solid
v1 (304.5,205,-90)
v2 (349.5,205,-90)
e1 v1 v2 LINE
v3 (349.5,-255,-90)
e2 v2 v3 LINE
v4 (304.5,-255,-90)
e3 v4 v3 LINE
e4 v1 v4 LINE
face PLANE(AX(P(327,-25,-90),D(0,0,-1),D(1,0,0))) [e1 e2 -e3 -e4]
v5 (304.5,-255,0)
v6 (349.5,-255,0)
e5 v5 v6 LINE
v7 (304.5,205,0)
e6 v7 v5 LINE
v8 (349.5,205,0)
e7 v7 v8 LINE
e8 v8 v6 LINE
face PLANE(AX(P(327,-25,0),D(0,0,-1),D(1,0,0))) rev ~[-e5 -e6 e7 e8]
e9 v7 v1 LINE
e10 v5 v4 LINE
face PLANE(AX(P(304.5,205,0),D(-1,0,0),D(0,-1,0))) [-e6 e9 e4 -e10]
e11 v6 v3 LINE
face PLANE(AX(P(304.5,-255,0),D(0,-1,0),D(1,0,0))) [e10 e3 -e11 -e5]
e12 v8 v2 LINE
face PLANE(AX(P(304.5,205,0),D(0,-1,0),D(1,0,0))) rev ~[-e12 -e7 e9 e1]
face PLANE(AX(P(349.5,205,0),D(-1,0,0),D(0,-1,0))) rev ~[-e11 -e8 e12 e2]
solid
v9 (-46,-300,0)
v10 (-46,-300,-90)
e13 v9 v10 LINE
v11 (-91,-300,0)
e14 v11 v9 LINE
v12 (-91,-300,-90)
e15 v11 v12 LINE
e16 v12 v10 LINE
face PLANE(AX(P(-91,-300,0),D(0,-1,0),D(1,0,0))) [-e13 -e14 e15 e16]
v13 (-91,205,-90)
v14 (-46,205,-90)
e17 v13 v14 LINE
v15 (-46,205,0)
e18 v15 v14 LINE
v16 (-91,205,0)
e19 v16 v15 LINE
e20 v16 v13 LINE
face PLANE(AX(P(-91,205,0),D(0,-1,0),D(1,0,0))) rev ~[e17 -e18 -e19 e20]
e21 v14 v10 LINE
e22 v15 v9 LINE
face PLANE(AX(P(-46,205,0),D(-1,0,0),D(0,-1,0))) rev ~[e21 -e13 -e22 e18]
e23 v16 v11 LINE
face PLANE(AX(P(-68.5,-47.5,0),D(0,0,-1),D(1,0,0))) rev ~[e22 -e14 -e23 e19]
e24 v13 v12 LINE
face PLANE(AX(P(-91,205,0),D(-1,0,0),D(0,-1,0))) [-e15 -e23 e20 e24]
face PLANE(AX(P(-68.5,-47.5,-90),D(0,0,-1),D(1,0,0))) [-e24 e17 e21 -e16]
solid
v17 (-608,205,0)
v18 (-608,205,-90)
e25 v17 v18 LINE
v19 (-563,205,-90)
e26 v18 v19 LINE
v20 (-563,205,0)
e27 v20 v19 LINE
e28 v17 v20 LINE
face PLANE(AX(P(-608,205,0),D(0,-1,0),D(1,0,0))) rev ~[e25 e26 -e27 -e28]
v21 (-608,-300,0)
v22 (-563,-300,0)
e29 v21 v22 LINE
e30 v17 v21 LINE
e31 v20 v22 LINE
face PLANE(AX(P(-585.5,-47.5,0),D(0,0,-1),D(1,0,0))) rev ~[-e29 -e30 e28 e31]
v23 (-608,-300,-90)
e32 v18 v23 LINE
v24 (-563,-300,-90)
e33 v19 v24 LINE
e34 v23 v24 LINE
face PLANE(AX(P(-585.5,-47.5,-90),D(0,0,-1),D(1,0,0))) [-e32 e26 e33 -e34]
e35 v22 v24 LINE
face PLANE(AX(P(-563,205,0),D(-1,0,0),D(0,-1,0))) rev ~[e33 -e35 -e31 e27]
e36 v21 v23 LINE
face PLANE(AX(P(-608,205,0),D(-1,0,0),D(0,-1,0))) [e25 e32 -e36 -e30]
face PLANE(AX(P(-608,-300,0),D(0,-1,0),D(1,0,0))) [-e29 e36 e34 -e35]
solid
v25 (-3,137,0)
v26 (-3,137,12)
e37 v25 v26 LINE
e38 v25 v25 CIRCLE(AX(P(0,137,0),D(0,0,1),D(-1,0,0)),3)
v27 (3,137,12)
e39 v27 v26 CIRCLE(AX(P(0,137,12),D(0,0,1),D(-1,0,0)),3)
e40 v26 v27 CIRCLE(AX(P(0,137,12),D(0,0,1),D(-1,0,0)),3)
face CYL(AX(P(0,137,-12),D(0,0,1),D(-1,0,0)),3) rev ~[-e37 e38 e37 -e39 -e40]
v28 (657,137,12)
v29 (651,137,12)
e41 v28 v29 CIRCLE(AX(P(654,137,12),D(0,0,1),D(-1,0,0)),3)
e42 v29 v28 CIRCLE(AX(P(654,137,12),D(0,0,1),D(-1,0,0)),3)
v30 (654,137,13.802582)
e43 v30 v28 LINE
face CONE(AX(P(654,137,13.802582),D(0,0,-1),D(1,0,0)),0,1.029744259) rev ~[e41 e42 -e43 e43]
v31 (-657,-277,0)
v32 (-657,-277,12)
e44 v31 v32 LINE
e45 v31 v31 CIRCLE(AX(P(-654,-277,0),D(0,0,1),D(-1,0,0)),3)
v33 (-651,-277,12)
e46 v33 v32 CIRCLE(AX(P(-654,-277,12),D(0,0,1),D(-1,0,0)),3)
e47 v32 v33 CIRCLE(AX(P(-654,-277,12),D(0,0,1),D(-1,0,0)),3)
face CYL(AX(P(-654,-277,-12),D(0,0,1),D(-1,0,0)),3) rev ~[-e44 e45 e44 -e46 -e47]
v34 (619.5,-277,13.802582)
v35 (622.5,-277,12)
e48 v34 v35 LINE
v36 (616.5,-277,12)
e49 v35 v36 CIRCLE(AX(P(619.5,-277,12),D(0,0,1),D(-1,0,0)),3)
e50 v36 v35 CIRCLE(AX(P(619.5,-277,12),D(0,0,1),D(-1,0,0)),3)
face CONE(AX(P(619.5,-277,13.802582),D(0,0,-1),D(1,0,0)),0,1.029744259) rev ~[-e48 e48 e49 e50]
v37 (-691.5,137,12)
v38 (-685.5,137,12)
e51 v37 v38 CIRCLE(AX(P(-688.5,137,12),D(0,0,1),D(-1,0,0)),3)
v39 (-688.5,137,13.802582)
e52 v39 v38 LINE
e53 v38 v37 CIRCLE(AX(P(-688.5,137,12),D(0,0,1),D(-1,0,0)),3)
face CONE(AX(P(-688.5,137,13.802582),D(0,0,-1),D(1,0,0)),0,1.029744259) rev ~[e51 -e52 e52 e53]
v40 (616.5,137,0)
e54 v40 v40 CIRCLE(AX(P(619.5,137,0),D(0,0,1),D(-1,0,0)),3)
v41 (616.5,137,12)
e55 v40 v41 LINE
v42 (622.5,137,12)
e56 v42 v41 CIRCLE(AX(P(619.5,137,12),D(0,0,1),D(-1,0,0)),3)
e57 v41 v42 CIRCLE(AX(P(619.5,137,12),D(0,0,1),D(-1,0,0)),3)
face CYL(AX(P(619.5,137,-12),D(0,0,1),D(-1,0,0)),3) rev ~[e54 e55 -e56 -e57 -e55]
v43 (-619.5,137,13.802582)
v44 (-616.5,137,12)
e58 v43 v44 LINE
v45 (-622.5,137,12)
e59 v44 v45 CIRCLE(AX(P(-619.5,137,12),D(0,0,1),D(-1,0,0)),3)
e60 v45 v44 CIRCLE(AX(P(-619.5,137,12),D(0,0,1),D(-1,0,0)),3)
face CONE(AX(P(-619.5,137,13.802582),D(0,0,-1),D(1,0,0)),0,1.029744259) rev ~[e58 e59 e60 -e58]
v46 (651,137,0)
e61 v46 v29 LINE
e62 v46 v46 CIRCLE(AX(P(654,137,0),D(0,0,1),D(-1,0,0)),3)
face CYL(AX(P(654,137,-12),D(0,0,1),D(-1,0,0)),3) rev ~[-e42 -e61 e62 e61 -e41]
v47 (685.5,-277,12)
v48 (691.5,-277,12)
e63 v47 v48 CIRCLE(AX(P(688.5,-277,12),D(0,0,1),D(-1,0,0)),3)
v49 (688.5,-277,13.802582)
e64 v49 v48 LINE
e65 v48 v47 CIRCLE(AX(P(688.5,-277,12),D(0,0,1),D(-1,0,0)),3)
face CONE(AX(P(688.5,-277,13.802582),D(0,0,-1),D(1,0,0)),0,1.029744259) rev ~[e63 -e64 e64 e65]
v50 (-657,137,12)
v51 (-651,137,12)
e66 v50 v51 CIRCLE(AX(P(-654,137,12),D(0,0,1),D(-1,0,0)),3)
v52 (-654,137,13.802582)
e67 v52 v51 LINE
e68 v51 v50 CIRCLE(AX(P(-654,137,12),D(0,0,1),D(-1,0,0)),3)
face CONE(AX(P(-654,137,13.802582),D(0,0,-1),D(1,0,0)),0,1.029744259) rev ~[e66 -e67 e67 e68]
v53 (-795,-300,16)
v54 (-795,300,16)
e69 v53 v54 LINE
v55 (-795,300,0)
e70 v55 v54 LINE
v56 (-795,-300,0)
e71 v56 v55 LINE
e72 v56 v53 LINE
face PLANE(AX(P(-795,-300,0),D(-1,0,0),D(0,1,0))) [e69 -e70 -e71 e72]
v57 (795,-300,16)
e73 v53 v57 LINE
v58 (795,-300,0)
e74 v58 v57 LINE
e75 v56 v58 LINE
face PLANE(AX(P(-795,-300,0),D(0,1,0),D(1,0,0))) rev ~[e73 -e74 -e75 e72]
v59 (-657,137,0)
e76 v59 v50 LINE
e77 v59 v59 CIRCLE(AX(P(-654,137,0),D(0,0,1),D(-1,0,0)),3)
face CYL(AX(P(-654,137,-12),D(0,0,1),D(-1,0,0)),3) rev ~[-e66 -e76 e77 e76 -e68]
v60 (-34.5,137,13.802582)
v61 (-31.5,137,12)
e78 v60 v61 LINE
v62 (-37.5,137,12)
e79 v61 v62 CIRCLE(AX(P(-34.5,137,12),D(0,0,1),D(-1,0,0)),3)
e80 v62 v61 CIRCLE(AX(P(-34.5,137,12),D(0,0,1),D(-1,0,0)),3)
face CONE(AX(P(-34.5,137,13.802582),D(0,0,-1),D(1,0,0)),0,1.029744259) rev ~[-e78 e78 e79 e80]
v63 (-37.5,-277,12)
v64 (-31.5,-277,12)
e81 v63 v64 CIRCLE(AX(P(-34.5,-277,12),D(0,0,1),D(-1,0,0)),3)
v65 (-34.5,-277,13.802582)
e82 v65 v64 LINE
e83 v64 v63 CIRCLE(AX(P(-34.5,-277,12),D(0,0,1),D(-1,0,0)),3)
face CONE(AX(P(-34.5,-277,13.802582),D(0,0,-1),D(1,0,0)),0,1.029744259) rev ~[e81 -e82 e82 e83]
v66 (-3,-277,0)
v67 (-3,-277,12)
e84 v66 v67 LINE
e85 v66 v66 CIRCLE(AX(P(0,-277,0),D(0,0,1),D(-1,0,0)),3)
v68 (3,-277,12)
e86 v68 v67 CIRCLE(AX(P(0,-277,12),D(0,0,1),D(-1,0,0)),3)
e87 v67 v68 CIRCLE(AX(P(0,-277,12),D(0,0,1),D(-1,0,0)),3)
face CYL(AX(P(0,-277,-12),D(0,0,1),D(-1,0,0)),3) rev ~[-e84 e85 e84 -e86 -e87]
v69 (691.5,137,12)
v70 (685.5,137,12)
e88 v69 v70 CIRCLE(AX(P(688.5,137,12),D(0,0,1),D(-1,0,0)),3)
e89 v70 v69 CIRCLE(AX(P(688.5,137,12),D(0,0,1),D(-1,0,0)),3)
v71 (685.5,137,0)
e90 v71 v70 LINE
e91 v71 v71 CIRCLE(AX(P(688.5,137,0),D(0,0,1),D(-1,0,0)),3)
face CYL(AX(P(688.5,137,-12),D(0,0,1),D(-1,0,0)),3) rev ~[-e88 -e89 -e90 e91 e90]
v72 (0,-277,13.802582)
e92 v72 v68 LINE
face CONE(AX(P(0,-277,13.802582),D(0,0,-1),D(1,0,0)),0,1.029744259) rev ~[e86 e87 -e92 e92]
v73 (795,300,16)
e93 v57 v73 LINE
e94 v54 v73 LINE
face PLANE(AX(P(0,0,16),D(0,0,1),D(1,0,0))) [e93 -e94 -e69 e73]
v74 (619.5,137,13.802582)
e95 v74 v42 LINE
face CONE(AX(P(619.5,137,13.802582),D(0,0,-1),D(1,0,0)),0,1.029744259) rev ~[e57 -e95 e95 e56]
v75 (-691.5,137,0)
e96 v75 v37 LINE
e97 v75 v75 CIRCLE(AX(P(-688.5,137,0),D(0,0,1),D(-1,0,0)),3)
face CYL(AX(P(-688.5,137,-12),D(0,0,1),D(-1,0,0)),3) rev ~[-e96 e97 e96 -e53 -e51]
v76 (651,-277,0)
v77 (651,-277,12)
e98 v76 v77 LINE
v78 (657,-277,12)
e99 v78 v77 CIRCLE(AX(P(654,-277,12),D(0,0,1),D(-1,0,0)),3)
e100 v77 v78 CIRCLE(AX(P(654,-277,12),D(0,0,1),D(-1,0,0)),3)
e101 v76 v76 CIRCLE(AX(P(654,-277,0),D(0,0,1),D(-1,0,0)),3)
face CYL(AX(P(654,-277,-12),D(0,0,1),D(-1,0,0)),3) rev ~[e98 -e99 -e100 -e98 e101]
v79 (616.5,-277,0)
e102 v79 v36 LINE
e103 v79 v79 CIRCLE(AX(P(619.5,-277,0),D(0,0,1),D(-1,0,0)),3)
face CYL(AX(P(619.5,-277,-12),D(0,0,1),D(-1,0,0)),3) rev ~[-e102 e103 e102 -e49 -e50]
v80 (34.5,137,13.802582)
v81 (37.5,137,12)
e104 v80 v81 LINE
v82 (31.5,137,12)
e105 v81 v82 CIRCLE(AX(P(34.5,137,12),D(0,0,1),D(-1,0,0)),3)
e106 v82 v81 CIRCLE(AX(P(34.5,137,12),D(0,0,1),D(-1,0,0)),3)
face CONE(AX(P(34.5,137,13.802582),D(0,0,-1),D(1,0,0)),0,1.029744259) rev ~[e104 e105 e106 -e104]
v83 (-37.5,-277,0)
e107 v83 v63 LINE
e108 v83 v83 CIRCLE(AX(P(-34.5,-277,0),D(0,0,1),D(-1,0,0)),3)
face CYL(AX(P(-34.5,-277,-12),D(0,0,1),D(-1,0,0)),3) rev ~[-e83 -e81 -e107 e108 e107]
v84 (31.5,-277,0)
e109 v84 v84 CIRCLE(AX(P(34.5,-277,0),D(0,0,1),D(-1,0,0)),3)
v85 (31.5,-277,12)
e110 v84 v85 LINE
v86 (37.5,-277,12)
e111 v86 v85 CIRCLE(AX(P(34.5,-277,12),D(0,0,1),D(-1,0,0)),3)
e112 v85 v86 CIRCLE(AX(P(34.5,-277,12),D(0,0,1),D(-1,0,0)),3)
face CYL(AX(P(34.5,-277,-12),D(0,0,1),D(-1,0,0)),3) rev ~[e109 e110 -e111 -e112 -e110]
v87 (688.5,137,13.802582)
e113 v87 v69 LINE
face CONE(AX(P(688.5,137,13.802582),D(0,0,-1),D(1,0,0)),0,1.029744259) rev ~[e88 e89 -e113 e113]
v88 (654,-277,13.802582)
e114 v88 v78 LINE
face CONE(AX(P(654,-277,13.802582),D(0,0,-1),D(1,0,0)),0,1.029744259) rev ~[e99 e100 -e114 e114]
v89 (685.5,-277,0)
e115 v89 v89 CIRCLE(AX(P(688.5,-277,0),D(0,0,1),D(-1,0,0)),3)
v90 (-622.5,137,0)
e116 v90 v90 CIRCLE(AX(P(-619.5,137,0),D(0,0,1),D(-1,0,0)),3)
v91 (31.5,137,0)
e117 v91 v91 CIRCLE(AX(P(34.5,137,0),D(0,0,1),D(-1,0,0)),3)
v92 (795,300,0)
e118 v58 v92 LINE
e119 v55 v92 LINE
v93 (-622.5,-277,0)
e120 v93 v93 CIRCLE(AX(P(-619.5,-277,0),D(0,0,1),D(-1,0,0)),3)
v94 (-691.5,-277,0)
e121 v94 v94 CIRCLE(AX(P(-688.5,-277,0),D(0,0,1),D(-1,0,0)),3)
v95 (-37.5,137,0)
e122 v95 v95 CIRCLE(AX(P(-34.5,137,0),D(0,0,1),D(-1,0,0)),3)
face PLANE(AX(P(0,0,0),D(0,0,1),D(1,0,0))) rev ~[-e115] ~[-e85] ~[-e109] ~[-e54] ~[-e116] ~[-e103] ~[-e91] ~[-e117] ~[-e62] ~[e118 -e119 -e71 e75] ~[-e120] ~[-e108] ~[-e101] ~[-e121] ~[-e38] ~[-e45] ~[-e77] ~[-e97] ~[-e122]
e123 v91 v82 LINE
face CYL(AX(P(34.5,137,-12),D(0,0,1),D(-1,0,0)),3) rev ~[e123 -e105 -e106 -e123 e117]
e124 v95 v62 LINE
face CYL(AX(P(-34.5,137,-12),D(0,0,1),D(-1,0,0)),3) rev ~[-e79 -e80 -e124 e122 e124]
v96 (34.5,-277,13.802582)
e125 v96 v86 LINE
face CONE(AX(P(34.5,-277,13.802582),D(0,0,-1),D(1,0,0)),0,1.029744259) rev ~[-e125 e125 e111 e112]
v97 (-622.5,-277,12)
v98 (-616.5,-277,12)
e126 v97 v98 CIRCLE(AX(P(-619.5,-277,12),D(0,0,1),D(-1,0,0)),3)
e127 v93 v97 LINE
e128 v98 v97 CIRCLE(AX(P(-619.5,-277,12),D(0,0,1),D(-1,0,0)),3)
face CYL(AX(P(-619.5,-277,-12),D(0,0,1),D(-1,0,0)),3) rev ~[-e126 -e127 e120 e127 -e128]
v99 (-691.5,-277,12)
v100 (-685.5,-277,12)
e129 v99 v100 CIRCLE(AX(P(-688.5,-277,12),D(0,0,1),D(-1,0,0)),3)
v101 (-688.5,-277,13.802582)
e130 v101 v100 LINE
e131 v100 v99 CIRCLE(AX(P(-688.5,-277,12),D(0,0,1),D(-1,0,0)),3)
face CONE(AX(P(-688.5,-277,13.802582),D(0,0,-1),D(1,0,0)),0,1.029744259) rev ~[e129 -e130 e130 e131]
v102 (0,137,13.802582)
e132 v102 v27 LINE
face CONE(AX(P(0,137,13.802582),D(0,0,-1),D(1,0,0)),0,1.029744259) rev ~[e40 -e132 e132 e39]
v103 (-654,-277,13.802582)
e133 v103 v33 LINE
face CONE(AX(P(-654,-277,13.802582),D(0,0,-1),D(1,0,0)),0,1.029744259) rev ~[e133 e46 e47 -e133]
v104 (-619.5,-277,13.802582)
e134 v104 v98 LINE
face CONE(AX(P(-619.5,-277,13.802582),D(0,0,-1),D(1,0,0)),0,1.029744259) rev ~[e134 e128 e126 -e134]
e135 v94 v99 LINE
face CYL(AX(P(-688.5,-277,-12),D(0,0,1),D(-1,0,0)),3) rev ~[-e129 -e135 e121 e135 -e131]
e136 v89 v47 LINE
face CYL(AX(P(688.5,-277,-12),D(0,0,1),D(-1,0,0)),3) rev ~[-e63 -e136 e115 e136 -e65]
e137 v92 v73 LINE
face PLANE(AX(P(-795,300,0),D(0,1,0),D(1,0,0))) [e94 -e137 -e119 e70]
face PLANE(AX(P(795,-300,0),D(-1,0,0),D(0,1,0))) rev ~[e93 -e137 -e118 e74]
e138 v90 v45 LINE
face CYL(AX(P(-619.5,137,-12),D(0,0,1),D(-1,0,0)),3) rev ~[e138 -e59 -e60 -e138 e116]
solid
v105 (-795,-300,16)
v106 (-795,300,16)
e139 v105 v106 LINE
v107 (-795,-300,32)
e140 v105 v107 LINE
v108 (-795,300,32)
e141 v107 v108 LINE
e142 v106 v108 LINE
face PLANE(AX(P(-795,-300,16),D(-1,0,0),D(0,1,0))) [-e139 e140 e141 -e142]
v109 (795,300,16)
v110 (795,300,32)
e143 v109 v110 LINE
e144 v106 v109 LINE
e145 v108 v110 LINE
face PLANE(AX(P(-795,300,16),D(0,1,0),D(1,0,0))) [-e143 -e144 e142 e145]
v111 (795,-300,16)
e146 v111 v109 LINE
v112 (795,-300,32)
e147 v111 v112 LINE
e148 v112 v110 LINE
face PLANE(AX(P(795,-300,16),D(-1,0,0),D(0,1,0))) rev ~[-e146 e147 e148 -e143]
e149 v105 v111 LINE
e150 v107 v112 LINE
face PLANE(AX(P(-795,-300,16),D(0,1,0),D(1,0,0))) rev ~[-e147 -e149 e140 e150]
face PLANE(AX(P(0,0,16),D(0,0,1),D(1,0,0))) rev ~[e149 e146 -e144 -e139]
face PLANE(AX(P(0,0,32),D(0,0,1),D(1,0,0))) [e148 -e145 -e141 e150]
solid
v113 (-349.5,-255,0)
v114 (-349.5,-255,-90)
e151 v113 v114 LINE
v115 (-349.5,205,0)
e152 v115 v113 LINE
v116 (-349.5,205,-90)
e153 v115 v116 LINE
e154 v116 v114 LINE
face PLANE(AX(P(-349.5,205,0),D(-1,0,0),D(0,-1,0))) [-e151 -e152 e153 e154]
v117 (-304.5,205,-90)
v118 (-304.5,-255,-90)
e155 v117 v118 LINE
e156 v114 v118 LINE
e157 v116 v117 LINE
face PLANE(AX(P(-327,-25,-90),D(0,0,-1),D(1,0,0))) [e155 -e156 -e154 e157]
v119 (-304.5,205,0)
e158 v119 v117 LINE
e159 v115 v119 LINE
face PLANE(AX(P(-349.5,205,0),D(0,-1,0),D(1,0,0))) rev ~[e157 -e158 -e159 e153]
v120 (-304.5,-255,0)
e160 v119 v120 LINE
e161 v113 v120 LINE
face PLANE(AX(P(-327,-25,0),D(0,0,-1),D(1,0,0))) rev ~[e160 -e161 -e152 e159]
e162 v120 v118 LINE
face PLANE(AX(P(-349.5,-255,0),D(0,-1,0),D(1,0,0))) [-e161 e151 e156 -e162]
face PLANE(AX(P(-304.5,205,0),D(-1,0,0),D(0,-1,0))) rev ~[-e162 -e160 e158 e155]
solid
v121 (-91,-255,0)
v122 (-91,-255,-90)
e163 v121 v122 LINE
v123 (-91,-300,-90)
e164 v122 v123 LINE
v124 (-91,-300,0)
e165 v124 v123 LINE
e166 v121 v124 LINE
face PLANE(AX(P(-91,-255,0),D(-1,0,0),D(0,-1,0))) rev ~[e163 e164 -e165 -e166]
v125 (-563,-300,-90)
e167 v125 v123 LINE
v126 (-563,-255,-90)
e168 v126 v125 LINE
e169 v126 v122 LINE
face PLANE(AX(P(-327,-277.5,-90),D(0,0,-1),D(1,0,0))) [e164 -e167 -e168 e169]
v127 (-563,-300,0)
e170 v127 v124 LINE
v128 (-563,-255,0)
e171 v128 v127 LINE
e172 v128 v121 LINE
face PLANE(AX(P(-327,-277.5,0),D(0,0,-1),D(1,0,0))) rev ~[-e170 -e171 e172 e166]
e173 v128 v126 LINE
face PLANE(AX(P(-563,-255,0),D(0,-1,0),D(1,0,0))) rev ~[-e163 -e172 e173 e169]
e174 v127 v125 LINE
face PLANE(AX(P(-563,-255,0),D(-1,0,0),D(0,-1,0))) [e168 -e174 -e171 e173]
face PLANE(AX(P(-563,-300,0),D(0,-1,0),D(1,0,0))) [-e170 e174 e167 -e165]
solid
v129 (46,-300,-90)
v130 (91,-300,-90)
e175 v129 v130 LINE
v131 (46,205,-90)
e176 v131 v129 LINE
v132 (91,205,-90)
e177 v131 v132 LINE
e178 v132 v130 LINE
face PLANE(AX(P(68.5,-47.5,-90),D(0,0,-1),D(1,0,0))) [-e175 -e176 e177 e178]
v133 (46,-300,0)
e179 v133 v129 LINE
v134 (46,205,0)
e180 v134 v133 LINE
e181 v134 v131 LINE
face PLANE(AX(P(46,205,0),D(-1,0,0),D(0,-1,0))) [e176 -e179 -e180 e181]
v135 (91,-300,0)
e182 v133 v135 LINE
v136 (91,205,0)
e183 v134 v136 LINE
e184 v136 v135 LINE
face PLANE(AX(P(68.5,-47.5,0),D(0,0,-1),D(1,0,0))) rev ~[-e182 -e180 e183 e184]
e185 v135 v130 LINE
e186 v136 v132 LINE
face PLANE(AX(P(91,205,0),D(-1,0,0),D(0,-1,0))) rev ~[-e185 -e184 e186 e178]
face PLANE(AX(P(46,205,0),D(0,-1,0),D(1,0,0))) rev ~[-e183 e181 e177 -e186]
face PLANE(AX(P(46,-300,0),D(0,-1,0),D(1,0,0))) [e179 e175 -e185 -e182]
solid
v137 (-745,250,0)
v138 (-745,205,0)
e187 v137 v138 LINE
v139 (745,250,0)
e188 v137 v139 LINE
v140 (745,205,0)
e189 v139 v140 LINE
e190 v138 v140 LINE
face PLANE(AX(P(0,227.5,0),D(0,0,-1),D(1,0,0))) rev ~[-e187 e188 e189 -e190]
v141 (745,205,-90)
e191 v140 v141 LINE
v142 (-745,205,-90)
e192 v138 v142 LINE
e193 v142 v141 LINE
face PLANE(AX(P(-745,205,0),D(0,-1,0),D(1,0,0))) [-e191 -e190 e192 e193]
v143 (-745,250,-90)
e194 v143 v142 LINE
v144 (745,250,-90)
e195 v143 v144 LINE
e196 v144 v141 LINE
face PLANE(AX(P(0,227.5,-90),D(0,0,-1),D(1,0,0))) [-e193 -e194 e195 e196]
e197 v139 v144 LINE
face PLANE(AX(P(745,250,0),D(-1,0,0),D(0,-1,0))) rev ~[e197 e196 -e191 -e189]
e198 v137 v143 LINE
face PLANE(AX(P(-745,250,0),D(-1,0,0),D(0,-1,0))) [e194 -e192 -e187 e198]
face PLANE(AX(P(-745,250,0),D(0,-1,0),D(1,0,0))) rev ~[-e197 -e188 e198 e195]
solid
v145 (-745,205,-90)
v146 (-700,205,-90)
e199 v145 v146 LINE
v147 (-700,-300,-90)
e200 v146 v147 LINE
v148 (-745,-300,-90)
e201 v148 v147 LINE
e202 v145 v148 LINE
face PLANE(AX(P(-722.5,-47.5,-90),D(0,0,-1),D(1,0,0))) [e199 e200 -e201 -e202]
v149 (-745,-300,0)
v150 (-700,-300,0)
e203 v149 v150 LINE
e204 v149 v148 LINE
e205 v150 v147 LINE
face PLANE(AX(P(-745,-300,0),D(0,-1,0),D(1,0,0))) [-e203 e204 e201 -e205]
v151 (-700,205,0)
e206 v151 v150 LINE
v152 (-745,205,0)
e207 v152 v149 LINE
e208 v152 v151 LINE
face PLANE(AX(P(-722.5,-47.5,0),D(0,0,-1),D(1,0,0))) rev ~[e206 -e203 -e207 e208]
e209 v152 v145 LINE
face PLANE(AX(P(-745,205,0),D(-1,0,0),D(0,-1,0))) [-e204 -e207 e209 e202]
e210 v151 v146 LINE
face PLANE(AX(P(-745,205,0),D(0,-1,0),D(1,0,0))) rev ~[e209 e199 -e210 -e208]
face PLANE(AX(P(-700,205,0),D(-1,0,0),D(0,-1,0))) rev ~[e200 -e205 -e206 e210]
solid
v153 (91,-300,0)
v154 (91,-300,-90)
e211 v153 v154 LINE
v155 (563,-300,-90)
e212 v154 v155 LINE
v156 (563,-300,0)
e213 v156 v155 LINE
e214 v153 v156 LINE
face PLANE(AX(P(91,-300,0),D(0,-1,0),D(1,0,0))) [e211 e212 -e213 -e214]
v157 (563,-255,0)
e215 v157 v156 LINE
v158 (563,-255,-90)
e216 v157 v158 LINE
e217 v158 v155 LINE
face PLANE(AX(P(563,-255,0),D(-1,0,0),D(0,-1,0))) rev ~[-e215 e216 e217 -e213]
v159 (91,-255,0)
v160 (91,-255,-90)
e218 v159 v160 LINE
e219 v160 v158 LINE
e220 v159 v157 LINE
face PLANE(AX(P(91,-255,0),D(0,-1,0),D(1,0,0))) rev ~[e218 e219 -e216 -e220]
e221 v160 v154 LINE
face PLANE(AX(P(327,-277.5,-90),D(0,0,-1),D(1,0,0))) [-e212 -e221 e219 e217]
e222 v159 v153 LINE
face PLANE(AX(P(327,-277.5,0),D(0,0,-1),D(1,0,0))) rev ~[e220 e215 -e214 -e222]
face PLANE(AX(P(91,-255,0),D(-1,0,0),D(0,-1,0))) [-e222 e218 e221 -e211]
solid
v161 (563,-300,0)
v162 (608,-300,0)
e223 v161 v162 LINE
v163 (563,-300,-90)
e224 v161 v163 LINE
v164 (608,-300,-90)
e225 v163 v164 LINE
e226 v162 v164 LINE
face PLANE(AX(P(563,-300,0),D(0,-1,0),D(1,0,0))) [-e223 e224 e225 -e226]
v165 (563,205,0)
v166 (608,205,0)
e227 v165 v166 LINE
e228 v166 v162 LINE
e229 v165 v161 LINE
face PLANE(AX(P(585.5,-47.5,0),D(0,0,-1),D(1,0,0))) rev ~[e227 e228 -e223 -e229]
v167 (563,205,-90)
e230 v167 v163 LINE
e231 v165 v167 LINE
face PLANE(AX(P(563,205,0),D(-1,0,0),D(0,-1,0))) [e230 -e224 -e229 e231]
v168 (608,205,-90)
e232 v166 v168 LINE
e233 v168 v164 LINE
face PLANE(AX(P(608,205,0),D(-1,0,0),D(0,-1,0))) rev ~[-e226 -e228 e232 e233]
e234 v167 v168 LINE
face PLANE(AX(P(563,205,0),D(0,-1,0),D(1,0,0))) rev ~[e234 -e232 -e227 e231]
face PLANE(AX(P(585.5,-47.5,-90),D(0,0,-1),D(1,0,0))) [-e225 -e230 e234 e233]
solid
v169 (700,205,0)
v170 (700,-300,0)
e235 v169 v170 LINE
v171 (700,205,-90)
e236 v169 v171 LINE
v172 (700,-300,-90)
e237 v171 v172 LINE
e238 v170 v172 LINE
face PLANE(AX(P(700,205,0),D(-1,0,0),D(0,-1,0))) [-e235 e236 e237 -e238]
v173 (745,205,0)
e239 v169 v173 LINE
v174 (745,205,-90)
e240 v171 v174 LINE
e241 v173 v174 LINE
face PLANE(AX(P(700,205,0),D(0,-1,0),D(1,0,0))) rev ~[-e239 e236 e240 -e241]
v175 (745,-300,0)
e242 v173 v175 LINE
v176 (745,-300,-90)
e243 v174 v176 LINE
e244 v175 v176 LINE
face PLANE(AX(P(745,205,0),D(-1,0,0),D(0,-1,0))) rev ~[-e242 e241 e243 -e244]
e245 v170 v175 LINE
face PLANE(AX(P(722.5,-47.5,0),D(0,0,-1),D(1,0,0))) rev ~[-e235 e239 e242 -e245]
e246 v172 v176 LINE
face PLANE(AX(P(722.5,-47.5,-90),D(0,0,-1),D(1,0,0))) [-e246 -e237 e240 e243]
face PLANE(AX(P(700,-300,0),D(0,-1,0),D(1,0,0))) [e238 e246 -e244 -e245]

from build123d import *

# Parameters (mm, degrees)
F0_W      = 1590
F0_H      = 600
F1_DEPTH  = 16
F2_W      = 1590
F2_H      = 600
F3_DEPTH  = 16
F4_W      = 45
F4_H      = 505
F5_DEPTH  = 90
F6_W      = 1490
F6_H      = 45
F7_DEPTH  = 90
F6_W_2    = 472
F8_W      = 45
F8_H      = 460
F9_DEPTH  = 90
F11_D     = 6
F11_DEPTH = 12
F11_TIP   = 1.8025818571


with BuildPart() as f1:
    # F0 (on Top) → F1 (new body)
    with BuildSketch(Plane.XY):
        Rectangle(F0_W, F0_H)
    extrude(amount=F1_DEPTH)

    # F11
    with Locations(Plane(origin=(0, 0, 0), x_dir=(1, 0, 0), z_dir=(0, 0, -1))):
        with Locations((-688.5, 277), (-654, 277), (-619.5, 277), (-688.5, -137), (-654, -137), (-619.5, -137), (-34.5, -137), (0, -137), (34.5, -137), (-34.5, 277), (0, 277), (34.5, 277), (619.5, 277), (654, 277), (688.5, 277), (619.5, -137), (654, -137), (688.5, -137)):
            Hole(F11_D / 2, depth=F11_DEPTH)
            with Locations((0, 0, -(F11_DEPTH + F11_TIP / 2))):  # 118° drill point
                Cone(0, F11_D / 2, F11_TIP, mode=Mode.SUBTRACT)


with BuildPart() as f3:
    # F2 (on face) → F3 (new body)
    with BuildSketch(Plane.XY.offset(16)):
        Rectangle(F2_W, F2_H)
    extrude(amount=F3_DEPTH)


with BuildPart() as f5:
    # F4 (on face) → F5 (new body)
    with BuildSketch(Plane(origin=(0, 0, 0), x_dir=(1, 0, 0), z_dir=(0, 0, -1))):
        with Locations((-722.5, 47.5)):
            Rectangle(F4_W, F4_H)
    extrude(amount=F5_DEPTH)


with BuildPart() as f5b:
    # F4 (on face) → F5, piece 2 (new body)
    with BuildSketch(Plane(origin=(0, 0, 0), x_dir=(1, 0, 0), z_dir=(0, 0, -1))):
        with Locations((-585.5, 47.5)):
            Rectangle(F4_W, F4_H)
    extrude(amount=F5_DEPTH)


with BuildPart() as f5c:
    # F4 (on face) → F5, piece 3 (new body)
    with BuildSketch(Plane(origin=(0, 0, 0), x_dir=(1, 0, 0), z_dir=(0, 0, -1))):
        with Locations((-68.5, 47.5)):
            Rectangle(F4_W, F4_H)
    extrude(amount=F5_DEPTH)


with BuildPart() as f5d:
    # F4 (on face) → F5, piece 4 (new body)
    with BuildSketch(Plane(origin=(0, 0, 0), x_dir=(1, 0, 0), z_dir=(0, 0, -1))):
        with Locations((68.5, 47.5)):
            Rectangle(F4_W, F4_H)
    extrude(amount=F5_DEPTH)


with BuildPart() as f5e:
    # F4 (on face) → F5, piece 5 (new body)
    with BuildSketch(Plane(origin=(0, 0, 0), x_dir=(1, 0, 0), z_dir=(0, 0, -1))):
        with Locations((585.5, 47.5)):
            Rectangle(F4_W, F4_H)
    extrude(amount=F5_DEPTH)


with BuildPart() as f5f:
    # F4 (on face) → F5, piece 6 (new body)
    with BuildSketch(Plane(origin=(0, 0, 0), x_dir=(1, 0, 0), z_dir=(0, 0, -1))):
        with Locations((722.5, 47.5)):
            Rectangle(F4_W, F4_H)
    extrude(amount=F5_DEPTH)


with BuildPart() as f7:
    # F6 (on face) → F7 (new body, through all)
    with BuildSketch(Plane(origin=(0, 0, 0), x_dir=(1, 0, 0), z_dir=(0, 0, -1))):
        with Locations((0, -227.5)):
            Rectangle(F6_W, F6_H)
    extrude(amount=F7_DEPTH)


with BuildPart() as f7b:
    # F6 (on face) → F7, piece 2 (new body, through all)
    with BuildSketch(Plane(origin=(0, 0, 0), x_dir=(1, 0, 0), z_dir=(0, 0, -1))):
        with Locations((-327, 277.5)):
            Rectangle(F6_W_2, F6_H)
    extrude(amount=F7_DEPTH)


with BuildPart() as f7c:
    # F6 (on face) → F7, piece 3 (new body, through all)
    with BuildSketch(Plane(origin=(0, 0, 0), x_dir=(1, 0, 0), z_dir=(0, 0, -1))):
        with Locations((327, 277.5)):
            Rectangle(F6_W_2, F6_H)
    extrude(amount=F7_DEPTH)


with BuildPart() as f9:
    # F8 (on face) → F9 (new body, through all)
    with BuildSketch(Plane(origin=(0, 0, 0), x_dir=(1, 0, 0), z_dir=(0, 0, -1))):
        with Locations((-327, 25)):
            Rectangle(F8_W, F8_H)
    extrude(amount=F9_DEPTH)


with BuildPart() as f9b:
    # F8 (on face) → F9, piece 2 (new body, through all)
    with BuildSketch(Plane(origin=(0, 0, 0), x_dir=(1, 0, 0), z_dir=(0, 0, -1))):
        with Locations((327, 25)):
            Rectangle(F8_W, F8_H)
    extrude(amount=F9_DEPTH)


solid = Compound([f1.part, f3.part, f5.part, f5b.part, f5c.part, f5d.part, f5e.part, f5f.part, f7.part, f7b.part, f7c.part, f9.part, f9b.part])
